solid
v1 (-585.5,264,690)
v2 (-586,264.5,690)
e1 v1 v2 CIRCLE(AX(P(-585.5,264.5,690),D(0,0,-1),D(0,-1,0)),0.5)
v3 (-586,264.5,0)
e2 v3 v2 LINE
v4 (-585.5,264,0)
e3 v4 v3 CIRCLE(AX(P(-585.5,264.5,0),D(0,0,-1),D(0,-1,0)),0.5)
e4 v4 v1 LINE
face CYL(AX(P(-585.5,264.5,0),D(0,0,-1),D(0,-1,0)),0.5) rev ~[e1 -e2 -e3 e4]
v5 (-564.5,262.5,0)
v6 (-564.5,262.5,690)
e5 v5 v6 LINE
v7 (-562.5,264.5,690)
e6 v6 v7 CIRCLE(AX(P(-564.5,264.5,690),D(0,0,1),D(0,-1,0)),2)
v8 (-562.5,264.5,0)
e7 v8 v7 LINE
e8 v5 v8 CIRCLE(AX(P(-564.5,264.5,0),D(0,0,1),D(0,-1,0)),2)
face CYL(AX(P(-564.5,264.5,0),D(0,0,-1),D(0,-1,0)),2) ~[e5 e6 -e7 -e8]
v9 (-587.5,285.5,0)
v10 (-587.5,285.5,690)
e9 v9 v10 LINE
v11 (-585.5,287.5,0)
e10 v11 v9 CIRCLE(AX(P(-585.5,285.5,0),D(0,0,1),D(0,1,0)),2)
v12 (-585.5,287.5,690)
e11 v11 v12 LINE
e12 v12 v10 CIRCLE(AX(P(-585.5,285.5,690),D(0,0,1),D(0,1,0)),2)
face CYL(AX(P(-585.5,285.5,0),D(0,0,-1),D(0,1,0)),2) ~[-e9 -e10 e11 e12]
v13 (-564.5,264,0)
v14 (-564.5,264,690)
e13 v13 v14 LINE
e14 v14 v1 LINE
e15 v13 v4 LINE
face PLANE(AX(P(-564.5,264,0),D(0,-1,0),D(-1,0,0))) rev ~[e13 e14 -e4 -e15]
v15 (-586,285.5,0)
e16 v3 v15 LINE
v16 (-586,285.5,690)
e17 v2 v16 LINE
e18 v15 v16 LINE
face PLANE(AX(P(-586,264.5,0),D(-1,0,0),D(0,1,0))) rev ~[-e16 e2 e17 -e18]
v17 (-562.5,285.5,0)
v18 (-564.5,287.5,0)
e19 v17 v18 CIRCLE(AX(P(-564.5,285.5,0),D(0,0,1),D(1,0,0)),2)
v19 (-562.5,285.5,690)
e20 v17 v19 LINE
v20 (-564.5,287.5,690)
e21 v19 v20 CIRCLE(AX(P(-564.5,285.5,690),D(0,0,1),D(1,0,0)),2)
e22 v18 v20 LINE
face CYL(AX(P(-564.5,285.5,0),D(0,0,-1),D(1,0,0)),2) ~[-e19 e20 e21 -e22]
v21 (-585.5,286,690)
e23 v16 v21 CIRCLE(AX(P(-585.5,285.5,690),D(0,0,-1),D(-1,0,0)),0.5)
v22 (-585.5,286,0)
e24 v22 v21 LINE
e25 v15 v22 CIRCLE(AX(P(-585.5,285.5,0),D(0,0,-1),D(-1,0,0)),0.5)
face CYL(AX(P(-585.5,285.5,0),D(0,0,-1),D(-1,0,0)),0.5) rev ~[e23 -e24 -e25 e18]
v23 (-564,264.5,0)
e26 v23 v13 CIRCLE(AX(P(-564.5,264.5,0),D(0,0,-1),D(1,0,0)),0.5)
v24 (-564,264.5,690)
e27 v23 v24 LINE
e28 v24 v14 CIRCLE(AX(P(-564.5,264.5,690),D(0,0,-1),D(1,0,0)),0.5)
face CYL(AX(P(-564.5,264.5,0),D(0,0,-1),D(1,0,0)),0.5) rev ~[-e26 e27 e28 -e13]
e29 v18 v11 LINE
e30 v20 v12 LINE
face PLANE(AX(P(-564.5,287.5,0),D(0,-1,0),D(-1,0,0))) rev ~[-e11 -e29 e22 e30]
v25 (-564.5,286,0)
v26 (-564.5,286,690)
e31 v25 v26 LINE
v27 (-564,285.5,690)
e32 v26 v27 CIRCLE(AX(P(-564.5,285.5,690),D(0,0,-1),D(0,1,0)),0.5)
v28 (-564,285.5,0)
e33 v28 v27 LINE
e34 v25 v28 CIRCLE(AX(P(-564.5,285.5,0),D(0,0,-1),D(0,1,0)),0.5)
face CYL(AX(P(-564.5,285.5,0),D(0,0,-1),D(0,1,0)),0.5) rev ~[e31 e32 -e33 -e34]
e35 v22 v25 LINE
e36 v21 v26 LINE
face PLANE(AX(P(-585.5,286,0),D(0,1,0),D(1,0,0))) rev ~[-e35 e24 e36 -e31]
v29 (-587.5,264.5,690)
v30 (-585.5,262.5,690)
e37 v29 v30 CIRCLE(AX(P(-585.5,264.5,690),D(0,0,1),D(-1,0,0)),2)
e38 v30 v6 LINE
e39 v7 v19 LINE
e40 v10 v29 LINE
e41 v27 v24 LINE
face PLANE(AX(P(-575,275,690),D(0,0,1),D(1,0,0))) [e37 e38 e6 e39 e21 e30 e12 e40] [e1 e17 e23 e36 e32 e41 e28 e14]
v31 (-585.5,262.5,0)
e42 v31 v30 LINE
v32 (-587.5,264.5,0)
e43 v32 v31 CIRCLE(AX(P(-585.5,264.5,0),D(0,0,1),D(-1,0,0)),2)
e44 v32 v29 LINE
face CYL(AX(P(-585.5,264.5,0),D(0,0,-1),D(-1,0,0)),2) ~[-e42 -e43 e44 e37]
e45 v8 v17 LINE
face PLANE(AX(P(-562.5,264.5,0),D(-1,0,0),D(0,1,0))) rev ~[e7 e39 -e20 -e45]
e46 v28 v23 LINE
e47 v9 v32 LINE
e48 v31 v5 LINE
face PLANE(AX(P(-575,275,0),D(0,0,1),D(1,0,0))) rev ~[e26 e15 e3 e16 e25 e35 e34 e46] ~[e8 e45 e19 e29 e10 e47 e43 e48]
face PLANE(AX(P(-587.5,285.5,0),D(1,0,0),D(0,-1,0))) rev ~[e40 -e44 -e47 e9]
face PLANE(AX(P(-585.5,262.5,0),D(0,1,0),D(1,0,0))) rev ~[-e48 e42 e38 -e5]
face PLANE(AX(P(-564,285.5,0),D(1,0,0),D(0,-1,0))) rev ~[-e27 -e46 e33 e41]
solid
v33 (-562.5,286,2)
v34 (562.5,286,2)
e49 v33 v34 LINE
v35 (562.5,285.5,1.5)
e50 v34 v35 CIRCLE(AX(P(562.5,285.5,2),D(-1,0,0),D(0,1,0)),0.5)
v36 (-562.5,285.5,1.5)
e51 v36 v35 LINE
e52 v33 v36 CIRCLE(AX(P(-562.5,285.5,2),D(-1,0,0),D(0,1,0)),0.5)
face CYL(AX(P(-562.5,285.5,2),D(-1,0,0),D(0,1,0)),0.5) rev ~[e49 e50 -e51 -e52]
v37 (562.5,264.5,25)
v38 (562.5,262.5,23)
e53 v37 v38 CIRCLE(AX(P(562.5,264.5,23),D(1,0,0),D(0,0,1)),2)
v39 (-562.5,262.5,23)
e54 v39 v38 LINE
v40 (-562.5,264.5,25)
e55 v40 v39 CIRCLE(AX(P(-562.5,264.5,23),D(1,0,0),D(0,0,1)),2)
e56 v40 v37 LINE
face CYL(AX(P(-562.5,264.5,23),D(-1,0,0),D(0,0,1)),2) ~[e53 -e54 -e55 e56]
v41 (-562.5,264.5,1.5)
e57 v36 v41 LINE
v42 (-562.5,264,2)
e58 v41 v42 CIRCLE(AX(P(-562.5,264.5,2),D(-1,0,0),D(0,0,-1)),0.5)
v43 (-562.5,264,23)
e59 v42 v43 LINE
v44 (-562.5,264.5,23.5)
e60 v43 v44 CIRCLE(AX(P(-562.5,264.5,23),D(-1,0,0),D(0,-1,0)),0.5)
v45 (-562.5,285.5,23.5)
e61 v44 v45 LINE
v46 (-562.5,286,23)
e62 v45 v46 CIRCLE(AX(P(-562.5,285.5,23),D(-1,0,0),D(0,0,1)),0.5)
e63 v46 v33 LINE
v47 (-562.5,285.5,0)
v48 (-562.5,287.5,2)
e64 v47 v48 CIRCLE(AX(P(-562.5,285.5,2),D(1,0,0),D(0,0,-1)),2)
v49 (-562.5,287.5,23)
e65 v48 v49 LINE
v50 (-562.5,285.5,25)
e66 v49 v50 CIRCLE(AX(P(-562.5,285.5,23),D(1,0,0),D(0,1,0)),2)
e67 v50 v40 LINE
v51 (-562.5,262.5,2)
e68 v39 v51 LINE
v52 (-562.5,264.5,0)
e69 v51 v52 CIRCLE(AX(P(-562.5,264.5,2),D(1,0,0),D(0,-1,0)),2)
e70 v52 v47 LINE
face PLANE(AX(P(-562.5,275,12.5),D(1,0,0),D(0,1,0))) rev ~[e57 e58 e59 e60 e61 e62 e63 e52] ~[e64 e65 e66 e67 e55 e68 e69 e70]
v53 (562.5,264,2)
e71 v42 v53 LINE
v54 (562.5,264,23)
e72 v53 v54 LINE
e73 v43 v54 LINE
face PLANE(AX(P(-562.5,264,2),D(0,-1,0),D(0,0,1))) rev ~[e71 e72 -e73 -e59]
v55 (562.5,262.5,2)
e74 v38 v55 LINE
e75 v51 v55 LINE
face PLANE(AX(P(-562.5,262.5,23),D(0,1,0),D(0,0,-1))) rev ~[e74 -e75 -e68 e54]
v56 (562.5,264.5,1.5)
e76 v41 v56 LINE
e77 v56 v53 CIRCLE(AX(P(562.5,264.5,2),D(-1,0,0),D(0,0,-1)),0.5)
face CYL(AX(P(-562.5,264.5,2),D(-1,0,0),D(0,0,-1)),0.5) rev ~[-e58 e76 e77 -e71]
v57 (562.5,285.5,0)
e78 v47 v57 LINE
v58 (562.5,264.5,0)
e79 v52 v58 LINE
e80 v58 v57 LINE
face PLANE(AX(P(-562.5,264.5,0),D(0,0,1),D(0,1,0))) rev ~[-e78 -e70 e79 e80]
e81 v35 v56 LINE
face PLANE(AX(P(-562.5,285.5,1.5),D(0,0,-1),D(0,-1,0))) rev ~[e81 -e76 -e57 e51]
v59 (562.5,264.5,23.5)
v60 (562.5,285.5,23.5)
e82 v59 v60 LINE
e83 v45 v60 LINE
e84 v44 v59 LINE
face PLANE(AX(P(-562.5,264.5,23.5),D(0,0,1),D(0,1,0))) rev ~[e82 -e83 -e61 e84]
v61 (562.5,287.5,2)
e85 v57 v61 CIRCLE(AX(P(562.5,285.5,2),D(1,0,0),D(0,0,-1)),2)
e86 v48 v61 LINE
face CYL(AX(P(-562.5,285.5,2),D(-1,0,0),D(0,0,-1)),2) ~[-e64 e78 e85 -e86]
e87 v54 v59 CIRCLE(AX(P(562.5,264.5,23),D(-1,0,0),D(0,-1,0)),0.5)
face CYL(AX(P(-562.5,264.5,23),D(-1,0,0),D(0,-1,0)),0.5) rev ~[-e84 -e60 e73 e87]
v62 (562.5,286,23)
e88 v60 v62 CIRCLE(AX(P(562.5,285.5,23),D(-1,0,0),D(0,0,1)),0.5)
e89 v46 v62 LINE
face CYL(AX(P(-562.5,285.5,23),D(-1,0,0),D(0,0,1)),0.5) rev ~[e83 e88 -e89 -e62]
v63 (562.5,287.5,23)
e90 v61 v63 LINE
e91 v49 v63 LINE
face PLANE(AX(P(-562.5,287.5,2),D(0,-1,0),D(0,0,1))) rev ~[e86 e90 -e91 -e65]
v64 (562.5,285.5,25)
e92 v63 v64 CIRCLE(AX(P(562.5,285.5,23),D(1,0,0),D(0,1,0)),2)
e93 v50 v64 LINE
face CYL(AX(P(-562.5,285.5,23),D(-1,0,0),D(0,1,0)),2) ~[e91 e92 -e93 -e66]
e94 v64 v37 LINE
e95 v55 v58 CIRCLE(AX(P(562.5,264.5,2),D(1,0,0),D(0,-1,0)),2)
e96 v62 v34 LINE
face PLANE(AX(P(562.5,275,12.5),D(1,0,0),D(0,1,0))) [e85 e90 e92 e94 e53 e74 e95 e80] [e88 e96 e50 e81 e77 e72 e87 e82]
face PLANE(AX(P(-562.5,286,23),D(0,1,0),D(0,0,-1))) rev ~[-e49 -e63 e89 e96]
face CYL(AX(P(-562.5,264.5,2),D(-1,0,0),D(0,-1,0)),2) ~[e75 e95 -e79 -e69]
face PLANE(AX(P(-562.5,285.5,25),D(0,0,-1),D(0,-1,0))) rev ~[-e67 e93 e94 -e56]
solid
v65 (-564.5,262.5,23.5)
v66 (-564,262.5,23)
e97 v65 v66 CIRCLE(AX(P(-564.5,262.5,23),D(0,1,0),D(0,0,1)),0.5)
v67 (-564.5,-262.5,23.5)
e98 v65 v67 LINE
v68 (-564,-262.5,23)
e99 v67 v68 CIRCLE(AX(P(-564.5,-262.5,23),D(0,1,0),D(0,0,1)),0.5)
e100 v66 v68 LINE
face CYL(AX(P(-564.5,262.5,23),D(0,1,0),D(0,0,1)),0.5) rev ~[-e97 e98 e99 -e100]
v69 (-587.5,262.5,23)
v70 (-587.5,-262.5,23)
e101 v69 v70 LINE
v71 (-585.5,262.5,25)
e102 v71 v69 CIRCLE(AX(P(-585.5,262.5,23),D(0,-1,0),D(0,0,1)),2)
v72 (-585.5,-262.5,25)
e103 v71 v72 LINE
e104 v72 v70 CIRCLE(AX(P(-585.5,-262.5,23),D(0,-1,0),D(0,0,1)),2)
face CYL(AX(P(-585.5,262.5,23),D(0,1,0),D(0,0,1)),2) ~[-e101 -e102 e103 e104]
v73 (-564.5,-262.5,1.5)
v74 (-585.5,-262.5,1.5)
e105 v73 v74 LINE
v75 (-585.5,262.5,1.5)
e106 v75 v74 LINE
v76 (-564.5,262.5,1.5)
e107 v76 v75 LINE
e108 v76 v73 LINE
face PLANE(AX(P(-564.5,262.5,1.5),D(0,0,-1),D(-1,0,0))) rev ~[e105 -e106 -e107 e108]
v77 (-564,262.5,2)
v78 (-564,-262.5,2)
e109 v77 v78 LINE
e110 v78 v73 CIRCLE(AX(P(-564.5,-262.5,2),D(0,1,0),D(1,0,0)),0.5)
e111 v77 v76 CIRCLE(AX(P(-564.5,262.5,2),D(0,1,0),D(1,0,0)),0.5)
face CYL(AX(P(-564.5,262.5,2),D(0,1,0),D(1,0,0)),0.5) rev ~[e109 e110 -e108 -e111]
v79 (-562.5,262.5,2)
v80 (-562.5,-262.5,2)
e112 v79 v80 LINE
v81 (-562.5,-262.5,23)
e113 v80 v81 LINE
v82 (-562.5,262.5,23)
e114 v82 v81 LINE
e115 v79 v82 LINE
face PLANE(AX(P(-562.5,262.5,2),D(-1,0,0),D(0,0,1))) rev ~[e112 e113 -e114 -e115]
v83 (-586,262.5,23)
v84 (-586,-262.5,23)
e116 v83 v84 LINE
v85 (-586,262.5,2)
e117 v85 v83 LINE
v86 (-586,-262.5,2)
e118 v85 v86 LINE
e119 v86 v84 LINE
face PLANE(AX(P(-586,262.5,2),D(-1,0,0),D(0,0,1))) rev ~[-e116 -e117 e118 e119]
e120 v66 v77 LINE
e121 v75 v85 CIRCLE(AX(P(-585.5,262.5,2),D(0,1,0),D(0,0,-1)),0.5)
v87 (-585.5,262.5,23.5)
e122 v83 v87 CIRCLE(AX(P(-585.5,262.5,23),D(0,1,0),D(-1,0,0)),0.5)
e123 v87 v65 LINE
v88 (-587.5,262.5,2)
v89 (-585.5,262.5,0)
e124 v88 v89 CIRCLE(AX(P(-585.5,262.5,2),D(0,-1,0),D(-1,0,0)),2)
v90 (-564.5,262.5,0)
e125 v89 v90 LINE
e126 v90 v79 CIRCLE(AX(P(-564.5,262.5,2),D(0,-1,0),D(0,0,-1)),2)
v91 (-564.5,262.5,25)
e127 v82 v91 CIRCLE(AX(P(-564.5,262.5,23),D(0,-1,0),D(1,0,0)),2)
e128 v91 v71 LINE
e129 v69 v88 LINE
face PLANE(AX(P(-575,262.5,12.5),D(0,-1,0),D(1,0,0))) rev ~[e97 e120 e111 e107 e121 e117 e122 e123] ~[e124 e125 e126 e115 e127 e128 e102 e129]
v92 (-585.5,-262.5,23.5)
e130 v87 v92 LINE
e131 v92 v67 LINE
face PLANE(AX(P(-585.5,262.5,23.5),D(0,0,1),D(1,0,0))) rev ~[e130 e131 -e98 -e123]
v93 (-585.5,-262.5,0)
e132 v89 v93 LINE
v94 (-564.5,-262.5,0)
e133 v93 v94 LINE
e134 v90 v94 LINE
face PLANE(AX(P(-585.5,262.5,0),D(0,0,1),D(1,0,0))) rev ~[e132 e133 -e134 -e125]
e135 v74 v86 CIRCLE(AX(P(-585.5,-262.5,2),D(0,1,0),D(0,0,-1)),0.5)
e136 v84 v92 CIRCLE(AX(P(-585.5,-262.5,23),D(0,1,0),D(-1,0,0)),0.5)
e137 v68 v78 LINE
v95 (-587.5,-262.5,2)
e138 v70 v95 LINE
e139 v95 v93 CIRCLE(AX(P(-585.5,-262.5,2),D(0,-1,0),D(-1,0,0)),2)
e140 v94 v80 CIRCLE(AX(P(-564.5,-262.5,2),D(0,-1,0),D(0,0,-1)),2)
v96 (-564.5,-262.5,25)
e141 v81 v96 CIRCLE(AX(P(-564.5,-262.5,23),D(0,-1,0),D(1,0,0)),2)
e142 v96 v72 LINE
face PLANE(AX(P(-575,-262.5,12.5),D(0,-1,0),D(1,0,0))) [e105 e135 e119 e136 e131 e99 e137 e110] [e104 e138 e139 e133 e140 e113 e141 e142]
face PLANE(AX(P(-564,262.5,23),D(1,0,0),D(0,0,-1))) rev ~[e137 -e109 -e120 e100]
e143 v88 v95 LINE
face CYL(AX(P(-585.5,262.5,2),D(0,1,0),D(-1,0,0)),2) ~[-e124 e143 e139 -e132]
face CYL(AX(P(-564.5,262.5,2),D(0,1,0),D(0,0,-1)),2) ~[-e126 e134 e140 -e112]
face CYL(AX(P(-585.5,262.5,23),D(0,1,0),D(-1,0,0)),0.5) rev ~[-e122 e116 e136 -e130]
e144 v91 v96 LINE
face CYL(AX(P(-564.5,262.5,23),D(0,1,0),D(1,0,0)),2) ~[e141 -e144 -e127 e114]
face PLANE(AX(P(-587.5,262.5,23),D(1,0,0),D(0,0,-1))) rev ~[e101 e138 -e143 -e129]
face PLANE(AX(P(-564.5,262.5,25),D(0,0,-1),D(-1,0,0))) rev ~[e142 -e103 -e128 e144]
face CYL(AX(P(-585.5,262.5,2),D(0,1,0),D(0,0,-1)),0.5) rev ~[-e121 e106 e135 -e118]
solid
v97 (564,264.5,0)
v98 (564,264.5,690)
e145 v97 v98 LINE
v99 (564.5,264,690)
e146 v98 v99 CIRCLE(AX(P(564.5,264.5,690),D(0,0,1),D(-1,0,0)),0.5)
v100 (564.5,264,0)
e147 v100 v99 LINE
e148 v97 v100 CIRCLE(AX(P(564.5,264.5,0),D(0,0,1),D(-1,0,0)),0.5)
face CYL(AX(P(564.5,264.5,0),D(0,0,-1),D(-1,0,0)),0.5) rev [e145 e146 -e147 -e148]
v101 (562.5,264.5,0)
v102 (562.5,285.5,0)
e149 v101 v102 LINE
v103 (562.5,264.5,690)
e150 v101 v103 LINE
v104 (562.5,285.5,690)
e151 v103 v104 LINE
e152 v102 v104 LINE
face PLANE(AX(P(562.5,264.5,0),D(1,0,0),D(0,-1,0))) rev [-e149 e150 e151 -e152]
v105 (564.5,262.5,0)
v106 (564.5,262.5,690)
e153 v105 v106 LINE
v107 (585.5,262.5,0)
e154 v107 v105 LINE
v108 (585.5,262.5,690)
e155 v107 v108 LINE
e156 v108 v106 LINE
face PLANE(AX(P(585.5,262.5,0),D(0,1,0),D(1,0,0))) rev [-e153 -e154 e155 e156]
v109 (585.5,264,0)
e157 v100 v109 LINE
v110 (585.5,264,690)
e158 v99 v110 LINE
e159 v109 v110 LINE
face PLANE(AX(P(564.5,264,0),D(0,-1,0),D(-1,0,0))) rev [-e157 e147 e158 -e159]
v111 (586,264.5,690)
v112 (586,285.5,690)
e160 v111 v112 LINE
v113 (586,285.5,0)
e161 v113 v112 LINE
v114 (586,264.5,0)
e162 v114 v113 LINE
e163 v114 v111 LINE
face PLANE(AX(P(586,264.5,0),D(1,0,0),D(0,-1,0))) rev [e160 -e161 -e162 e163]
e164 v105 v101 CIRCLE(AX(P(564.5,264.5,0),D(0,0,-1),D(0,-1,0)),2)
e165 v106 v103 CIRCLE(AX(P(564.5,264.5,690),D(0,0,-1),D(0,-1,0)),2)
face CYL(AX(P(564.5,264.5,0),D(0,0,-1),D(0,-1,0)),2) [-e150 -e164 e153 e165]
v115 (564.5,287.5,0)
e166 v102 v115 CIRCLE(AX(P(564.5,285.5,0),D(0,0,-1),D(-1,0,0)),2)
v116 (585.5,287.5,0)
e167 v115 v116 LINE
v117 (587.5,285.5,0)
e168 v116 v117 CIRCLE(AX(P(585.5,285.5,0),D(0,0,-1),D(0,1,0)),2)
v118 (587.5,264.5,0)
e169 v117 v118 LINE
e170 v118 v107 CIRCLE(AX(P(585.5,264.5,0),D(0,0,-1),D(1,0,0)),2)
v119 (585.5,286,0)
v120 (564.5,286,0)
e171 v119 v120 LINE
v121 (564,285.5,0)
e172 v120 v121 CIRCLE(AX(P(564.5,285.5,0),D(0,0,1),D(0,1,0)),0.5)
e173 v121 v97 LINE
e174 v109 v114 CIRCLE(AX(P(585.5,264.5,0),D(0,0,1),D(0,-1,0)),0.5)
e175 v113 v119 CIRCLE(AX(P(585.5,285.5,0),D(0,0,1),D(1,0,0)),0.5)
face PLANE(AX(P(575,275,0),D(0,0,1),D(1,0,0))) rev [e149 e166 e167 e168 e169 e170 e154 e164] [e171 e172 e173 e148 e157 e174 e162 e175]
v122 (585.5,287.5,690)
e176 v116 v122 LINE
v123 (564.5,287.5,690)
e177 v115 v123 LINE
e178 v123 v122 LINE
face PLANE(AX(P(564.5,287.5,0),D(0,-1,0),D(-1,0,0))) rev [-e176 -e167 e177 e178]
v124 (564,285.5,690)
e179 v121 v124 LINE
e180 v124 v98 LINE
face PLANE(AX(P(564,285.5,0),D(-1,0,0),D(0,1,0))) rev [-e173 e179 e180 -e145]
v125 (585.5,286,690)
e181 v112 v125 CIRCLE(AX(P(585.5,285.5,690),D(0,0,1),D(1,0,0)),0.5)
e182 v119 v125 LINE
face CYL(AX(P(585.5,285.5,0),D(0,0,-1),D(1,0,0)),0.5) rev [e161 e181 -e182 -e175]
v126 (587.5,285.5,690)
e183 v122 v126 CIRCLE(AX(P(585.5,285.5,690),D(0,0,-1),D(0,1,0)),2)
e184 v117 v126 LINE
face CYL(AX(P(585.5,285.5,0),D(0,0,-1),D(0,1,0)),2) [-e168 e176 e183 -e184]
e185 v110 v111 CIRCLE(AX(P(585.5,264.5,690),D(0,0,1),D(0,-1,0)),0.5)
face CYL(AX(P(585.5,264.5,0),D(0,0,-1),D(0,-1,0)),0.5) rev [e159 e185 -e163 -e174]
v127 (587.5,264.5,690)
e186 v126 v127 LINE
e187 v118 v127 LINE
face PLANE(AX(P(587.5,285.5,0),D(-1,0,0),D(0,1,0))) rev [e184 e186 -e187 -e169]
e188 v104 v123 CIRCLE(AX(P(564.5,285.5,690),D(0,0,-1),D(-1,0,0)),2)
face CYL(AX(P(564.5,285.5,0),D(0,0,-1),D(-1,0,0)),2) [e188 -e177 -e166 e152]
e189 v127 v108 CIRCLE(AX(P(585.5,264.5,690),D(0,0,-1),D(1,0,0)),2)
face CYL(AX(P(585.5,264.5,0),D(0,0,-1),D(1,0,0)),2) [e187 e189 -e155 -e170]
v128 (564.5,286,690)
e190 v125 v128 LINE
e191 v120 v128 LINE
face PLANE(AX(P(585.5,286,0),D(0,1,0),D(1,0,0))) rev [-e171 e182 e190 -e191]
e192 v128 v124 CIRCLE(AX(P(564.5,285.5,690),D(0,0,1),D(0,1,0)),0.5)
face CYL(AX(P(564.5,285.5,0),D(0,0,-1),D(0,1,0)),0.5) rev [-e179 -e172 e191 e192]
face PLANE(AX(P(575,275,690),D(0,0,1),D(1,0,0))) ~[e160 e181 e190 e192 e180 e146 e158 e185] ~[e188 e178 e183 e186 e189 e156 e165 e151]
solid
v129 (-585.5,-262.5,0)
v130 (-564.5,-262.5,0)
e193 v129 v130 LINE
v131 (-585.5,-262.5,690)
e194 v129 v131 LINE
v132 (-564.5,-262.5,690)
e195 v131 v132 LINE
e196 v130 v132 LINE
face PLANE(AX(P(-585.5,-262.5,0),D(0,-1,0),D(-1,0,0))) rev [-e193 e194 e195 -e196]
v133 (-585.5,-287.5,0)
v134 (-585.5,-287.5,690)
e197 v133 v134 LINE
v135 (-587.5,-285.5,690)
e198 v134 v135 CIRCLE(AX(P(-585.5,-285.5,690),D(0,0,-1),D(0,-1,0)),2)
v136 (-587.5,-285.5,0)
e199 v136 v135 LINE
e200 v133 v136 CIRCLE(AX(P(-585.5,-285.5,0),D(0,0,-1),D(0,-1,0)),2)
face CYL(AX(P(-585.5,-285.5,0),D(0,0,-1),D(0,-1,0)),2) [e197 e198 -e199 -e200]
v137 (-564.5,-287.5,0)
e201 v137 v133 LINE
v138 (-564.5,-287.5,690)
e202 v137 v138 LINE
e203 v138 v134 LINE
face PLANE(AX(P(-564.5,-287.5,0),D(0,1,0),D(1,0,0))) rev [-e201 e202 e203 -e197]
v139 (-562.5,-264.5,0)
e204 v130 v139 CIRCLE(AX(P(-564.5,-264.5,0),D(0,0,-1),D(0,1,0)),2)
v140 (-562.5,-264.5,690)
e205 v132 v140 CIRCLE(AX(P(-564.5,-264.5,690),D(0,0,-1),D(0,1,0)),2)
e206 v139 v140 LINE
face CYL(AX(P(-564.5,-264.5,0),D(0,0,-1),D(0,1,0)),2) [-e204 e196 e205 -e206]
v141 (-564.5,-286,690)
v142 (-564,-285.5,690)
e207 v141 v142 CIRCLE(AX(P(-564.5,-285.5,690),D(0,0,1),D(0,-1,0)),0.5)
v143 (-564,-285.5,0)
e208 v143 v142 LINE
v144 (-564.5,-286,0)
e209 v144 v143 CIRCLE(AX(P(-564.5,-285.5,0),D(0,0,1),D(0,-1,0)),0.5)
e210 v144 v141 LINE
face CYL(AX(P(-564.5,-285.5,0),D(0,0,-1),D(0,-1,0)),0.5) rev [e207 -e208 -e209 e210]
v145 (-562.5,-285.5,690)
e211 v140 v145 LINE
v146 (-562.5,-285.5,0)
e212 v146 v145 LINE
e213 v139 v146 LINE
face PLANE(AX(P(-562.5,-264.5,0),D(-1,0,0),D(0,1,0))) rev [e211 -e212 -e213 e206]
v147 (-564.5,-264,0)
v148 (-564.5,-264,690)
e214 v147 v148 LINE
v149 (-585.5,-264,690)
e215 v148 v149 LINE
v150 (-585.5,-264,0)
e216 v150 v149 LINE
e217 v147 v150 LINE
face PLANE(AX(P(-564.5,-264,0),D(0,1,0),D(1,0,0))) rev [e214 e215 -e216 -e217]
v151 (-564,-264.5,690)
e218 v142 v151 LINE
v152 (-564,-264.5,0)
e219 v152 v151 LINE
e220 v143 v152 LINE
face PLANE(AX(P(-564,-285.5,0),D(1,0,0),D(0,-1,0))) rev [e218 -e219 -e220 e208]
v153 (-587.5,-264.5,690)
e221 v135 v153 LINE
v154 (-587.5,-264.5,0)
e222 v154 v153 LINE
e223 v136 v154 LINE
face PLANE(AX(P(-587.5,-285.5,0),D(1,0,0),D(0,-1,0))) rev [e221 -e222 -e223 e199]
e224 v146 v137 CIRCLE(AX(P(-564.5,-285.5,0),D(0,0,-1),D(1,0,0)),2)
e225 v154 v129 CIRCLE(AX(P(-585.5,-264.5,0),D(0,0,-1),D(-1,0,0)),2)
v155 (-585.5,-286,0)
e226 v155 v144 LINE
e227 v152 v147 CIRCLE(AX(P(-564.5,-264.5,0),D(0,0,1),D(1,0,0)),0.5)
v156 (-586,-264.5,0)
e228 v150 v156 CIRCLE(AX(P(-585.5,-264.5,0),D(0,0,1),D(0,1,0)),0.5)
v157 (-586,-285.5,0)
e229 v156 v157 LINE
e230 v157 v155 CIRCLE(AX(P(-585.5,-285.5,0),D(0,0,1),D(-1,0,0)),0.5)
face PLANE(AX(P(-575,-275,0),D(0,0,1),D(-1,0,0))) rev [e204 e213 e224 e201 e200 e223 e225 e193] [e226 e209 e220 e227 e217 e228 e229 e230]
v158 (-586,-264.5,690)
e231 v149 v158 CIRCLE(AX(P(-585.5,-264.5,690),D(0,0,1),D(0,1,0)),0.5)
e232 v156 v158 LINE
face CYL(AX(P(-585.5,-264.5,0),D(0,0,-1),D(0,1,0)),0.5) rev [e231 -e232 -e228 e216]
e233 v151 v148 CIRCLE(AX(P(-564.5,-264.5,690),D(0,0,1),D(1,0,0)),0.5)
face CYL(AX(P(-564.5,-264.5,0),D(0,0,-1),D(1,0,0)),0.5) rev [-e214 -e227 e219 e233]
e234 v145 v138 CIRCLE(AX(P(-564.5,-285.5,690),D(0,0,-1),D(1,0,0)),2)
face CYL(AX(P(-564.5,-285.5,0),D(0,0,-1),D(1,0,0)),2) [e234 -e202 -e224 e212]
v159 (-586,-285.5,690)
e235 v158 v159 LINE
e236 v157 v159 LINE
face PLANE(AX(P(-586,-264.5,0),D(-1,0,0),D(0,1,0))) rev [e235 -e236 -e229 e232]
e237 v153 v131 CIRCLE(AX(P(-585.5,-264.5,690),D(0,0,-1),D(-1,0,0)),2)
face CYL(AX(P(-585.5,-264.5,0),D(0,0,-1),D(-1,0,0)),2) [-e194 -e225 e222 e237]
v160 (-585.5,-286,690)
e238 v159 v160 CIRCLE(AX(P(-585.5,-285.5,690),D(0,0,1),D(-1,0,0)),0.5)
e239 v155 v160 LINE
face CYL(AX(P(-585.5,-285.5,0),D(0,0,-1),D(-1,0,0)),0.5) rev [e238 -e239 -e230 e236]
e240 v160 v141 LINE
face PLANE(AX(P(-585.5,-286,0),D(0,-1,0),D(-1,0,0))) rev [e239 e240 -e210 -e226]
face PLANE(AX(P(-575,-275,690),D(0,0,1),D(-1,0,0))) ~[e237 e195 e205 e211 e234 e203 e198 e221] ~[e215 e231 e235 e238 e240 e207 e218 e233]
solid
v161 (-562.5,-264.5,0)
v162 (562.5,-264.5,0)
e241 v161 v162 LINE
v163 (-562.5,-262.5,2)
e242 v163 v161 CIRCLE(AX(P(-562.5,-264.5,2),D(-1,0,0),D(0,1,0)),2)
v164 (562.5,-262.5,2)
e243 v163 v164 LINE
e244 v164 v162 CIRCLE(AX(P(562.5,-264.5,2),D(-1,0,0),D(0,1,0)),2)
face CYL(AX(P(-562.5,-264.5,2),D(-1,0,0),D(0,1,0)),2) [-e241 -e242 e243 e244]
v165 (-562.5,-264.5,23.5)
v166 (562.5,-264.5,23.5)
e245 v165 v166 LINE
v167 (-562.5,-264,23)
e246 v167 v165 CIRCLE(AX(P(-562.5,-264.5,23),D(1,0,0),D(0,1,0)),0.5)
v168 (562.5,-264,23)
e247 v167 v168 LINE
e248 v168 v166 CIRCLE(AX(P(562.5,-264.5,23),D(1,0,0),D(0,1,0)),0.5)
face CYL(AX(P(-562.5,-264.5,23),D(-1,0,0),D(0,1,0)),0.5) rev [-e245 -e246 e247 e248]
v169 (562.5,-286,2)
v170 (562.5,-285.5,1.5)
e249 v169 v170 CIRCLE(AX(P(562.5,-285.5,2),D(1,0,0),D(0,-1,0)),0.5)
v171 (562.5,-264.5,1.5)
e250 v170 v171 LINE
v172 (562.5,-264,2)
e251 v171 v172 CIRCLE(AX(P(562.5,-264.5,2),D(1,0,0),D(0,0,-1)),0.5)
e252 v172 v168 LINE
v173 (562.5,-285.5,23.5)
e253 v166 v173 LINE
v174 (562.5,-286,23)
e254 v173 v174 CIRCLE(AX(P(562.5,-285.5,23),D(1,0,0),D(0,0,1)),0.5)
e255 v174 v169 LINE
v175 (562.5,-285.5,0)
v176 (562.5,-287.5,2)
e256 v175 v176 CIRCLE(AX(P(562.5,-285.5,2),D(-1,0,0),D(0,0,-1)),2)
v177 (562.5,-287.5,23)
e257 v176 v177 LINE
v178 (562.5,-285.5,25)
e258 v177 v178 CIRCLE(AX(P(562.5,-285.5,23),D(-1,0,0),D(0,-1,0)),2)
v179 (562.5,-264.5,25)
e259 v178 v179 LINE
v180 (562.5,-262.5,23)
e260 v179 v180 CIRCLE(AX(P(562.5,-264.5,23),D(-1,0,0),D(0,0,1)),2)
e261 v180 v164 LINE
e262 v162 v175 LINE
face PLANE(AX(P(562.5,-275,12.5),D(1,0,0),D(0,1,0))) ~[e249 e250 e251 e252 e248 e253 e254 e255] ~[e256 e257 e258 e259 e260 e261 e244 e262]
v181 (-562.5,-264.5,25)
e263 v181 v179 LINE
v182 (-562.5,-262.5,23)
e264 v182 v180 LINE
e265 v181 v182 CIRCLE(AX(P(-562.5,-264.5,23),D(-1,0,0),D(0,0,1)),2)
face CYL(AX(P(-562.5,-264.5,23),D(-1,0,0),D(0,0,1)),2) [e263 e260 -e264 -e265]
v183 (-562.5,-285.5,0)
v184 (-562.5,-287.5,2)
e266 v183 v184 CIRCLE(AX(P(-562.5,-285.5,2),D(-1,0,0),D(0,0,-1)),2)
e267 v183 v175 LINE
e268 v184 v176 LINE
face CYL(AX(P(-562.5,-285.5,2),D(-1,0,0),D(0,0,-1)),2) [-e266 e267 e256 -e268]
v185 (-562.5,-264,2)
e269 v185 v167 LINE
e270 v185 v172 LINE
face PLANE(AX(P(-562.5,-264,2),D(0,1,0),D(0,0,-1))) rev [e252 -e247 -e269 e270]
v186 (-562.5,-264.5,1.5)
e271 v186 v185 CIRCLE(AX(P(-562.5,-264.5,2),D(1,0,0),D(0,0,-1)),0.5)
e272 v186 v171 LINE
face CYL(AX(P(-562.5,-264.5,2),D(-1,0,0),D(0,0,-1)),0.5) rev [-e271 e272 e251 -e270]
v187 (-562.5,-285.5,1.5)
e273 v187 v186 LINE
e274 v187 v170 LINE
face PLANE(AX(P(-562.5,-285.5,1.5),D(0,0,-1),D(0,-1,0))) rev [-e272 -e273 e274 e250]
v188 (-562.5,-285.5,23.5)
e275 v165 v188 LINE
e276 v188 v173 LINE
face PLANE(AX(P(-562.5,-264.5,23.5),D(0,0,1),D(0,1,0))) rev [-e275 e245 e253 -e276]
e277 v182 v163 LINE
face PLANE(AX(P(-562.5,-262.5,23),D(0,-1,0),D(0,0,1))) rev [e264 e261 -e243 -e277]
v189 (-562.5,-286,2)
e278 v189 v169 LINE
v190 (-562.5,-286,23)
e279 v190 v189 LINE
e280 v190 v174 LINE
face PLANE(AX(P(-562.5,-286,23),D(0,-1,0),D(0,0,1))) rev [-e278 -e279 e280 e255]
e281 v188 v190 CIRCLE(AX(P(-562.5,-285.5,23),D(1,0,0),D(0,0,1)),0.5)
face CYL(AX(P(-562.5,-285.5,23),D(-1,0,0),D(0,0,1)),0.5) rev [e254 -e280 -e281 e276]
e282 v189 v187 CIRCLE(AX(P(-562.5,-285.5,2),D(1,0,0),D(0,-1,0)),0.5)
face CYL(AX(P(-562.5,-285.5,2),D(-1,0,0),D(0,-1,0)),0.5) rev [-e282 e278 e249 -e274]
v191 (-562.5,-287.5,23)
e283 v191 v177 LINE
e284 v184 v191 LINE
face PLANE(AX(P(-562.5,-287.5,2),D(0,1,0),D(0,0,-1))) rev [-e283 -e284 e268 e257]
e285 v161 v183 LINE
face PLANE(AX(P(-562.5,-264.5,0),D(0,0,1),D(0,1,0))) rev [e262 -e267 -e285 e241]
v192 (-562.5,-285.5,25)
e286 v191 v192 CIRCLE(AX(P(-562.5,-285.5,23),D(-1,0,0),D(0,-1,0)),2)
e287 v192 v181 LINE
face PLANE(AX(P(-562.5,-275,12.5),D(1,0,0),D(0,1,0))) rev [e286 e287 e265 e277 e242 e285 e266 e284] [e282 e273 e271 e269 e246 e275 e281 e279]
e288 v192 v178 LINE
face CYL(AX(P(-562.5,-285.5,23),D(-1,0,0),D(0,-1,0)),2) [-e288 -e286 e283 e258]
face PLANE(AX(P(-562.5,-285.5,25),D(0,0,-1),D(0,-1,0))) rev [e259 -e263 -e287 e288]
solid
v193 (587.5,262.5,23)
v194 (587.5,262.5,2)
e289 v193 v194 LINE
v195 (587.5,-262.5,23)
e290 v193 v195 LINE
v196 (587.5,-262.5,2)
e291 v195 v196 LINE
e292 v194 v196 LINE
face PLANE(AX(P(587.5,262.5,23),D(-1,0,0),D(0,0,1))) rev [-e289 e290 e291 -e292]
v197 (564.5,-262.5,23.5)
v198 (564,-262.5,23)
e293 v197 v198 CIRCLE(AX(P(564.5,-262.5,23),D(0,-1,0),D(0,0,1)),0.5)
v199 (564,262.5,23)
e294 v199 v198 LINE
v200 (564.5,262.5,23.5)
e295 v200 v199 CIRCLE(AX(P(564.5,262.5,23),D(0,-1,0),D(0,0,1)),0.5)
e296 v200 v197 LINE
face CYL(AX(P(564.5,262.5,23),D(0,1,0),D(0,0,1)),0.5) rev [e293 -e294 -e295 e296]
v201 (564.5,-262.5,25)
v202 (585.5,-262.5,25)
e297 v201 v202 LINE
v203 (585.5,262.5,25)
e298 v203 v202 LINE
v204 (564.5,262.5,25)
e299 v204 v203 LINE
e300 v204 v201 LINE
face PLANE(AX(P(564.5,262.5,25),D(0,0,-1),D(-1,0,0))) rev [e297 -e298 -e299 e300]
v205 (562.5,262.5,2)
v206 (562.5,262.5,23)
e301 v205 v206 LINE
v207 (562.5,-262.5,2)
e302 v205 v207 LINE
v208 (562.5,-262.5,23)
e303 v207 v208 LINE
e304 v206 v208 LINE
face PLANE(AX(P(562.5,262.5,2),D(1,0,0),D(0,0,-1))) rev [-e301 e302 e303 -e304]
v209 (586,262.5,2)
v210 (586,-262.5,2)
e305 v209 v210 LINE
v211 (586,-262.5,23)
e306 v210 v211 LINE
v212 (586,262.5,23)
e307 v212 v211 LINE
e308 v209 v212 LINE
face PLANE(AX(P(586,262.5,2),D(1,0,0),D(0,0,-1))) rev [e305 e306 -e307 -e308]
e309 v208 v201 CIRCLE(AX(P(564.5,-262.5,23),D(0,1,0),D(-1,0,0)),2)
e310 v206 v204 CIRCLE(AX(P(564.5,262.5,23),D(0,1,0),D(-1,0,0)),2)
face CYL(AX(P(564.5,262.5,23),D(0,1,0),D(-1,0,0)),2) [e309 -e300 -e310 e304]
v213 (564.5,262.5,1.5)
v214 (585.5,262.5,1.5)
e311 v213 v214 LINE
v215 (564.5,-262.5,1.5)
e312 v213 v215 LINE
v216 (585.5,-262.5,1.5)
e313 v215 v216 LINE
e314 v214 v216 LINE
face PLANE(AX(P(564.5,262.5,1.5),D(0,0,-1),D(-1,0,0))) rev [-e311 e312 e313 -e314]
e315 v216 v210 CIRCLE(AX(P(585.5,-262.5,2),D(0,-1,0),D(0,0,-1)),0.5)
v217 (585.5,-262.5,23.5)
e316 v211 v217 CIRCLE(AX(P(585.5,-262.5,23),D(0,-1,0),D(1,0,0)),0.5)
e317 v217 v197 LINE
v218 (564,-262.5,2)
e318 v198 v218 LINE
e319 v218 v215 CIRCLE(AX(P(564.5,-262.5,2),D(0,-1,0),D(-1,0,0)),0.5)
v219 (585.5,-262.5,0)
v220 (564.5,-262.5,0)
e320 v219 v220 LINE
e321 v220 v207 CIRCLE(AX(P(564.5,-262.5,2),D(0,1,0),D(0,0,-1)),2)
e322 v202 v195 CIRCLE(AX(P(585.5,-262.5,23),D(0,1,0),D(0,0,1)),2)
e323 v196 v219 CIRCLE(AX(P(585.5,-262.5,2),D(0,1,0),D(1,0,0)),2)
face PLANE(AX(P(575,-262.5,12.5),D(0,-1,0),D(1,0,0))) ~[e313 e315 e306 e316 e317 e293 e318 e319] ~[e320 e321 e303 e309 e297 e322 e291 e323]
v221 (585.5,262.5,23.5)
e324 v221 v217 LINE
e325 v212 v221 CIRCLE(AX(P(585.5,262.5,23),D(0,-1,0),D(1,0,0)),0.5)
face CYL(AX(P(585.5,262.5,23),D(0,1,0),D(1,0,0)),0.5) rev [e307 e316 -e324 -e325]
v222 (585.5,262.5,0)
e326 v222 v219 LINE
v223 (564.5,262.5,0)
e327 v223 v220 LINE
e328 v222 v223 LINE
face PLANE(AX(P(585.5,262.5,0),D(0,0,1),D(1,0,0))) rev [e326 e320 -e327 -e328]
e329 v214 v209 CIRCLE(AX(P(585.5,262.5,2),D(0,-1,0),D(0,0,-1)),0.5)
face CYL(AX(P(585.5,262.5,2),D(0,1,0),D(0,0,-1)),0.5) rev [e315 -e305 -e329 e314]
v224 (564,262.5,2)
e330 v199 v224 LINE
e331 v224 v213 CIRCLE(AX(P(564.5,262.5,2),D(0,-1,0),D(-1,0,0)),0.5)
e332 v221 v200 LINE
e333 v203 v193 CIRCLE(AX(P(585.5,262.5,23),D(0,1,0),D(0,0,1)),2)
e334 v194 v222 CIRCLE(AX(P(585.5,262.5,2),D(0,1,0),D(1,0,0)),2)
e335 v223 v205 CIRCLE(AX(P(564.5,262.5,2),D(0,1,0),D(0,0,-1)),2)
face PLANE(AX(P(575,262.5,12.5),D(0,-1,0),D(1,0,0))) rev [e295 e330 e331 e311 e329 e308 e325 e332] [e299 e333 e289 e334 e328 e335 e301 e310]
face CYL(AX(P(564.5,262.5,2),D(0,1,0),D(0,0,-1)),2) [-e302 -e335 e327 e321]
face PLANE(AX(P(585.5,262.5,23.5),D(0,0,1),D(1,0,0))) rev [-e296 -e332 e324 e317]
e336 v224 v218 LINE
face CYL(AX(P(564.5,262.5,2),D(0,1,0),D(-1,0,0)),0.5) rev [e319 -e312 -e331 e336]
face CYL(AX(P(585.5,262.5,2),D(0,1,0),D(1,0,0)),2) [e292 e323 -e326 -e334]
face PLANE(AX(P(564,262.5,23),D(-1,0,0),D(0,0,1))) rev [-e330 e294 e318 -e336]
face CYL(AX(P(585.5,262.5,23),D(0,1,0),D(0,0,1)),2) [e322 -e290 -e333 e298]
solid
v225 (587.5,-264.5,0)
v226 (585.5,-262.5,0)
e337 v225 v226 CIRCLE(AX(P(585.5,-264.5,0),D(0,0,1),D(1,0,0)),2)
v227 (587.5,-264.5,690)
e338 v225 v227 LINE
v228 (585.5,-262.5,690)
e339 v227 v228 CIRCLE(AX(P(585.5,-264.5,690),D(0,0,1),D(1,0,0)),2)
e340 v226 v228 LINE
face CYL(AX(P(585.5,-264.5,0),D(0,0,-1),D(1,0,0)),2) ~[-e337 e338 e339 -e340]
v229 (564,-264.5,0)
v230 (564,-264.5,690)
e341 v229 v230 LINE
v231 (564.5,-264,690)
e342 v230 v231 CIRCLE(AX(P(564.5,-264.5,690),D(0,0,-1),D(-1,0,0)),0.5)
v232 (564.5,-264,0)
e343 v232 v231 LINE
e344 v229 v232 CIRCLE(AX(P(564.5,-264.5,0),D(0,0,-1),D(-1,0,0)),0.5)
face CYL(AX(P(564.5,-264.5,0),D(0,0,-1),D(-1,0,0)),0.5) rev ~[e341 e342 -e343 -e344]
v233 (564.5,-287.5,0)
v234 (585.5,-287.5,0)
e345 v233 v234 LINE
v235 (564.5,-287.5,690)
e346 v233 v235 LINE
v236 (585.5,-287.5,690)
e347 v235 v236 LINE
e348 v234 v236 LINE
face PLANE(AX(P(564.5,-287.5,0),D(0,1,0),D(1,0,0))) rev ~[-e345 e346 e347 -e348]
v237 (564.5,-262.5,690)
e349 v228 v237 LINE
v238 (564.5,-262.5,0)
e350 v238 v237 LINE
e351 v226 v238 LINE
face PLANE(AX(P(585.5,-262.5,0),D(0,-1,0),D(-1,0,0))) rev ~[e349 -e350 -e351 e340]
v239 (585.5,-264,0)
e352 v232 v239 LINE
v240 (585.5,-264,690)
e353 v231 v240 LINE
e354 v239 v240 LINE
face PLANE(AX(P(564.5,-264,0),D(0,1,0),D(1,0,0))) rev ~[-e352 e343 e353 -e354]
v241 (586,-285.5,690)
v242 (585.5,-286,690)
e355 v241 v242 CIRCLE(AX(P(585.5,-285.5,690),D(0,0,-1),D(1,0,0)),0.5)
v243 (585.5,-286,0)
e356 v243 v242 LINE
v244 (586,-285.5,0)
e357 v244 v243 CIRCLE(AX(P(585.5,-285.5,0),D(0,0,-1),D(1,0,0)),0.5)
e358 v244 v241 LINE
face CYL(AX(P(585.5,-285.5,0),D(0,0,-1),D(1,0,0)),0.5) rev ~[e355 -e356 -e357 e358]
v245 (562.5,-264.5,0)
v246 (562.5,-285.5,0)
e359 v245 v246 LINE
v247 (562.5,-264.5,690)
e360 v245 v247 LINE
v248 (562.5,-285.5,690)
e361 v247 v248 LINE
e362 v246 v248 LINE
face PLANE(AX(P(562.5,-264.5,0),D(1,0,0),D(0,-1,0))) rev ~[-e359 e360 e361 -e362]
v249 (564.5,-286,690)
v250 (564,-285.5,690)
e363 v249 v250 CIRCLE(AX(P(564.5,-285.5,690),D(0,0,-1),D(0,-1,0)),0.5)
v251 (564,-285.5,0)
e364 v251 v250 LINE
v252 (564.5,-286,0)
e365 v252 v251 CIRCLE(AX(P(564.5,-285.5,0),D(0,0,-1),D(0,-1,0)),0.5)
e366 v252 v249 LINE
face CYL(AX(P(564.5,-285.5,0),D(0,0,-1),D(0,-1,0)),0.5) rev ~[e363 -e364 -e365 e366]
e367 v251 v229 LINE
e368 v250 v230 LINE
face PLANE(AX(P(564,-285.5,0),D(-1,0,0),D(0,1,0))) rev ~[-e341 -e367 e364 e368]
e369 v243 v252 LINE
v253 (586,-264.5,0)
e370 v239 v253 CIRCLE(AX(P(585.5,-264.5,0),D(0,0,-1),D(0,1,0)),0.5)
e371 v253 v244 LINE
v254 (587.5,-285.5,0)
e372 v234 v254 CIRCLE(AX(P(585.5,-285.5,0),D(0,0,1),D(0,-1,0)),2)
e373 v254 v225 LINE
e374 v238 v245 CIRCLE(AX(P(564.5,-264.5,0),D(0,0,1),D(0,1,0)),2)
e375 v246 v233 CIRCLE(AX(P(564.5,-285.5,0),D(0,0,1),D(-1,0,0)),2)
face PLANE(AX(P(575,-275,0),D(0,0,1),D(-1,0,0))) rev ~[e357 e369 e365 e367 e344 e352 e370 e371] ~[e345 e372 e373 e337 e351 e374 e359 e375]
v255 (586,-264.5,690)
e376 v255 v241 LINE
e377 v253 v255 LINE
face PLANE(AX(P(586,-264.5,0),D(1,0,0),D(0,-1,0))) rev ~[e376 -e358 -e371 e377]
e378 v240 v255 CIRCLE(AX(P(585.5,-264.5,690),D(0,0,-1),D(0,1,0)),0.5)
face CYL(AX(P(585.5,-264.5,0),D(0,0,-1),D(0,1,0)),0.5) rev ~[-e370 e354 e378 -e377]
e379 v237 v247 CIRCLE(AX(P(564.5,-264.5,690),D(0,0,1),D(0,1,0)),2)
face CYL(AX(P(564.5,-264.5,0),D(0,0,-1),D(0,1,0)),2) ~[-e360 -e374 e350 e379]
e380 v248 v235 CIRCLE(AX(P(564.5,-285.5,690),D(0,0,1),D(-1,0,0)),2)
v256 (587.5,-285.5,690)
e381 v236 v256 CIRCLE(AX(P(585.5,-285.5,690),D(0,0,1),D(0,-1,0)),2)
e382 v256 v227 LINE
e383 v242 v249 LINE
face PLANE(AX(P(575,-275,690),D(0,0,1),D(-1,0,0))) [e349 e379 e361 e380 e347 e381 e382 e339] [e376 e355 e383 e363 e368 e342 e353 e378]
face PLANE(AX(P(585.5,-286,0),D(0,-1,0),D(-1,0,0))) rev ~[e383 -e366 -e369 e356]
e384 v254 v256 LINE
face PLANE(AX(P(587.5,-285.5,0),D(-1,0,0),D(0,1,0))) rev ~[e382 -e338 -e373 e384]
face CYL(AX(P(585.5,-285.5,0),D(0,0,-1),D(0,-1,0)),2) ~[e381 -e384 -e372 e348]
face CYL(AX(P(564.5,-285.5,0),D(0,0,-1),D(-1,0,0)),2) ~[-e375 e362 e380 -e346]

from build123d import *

# Parameters (mm, degrees)
F3_DEPTH = 690
F5_DEPTH = 1125
F7_DEPTH = 525


with BuildPart() as f3:
    # F2 (on Top) → F3 (new body)
    with BuildSketch(Plane.XY):
        with BuildLine():
            Line((-564.5, 287.5), (-585.5, 287.5))
            ThreePointArc((-585.5, 287.5), (-586.9142135624, 286.9142135624), (-587.5, 285.5))
            Line((-587.5, 285.5), (-587.5, 264.5))
            ThreePointArc((-587.5, 264.5), (-586.9142135624, 263.0857864376), (-585.5, 262.5))
            Line((-585.5, 262.5), (-564.5, 262.5))
            ThreePointArc((-564.5, 262.5), (-563.0857864376, 263.0857864376), (-562.5, 264.5))
            Line((-562.5, 264.5), (-562.5, 285.5))
            ThreePointArc((-562.5, 285.5), (-563.0857864376, 286.9142135624), (-564.5, 287.5))
        make_face()
        with BuildLine():
            ThreePointArc((-586, 285.5), (-585.8535533906, 285.8535533906), (-585.5, 286))
            Line((-585.5, 286), (-564.5, 286))
            ThreePointArc((-564.5, 286), (-564.1464466094, 285.8535533906), (-564, 285.5))
            Line((-564, 285.5), (-564, 264.5))
            ThreePointArc((-564, 264.5), (-564.1464466094, 264.1464466094), (-564.5, 264))
            Line((-564.5, 264), (-585.5, 264))
            ThreePointArc((-585.5, 264), (-585.8535533906, 264.1464466094), (-586, 264.5))
            Line((-586, 264.5), (-586, 285.5))
        make_face(mode=Mode.SUBTRACT)
    extrude(amount=F3_DEPTH)


with BuildPart() as f5:
    # F4 (on face) → F5 (new body, through all)
    with BuildSketch(Plane.YZ.offset(-562.5)):
        with BuildLine():
            Line((285.5, 25), (264.5, 25))
            ThreePointArc((264.5, 25), (263.0857864376, 24.4142135624), (262.5, 23))
            Line((262.5, 23), (262.5, 2))
            ThreePointArc((262.5, 2), (263.0857864376, 0.5857864376), (264.5, 0))
            Line((264.5, 0), (285.5, 0))
            ThreePointArc((285.5, 0), (286.9142135624, 0.5857864376), (287.5, 2))
            Line((287.5, 2), (287.5, 23))
            ThreePointArc((287.5, 23), (286.9142135624, 24.4142135624), (285.5, 25))
        make_face()
        with BuildLine():
            ThreePointArc((264, 23), (264.1464466094, 23.3535533906), (264.5, 23.5))
            Line((264.5, 23.5), (285.5, 23.5))
            ThreePointArc((285.5, 23.5), (285.8535533906, 23.3535533906), (286, 23))
            Line((286, 23), (286, 2))
            ThreePointArc((286, 2), (285.8535533906, 1.6464466094), (285.5, 1.5))
            Line((285.5, 1.5), (264.5, 1.5))
            ThreePointArc((264.5, 1.5), (264.1464466094, 1.6464466094), (264, 2))
            Line((264, 2), (264, 23))
        make_face(mode=Mode.SUBTRACT)
    extrude(amount=F5_DEPTH)


with BuildPart() as f7:
    # F6 (on face) → F7 (new body, through all)
    with BuildSketch(Plane.XZ.offset(-262.5)):
        with BuildLine():
            Line((-564.5, 25), (-585.5, 25))
            ThreePointArc((-585.5, 25), (-586.9142135624, 24.4142135624), (-587.5, 23))
            Line((-587.5, 23), (-587.5, 2))
            ThreePointArc((-587.5, 2), (-586.9142135624, 0.5857864376), (-585.5, 0))
            Line((-585.5, 0), (-564.5, 0))
            ThreePointArc((-564.5, 0), (-563.0857864376, 0.5857864376), (-562.5, 2))
            Line((-562.5, 2), (-562.5, 23))
            ThreePointArc((-562.5, 23), (-563.0857864376, 24.4142135624), (-564.5, 25))
        make_face()
        with BuildLine():
            ThreePointArc((-586, 23), (-585.8535533906, 23.3535533906), (-585.5, 23.5))
            Line((-585.5, 23.5), (-564.5, 23.5))
            ThreePointArc((-564.5, 23.5), (-564.1464466094, 23.3535533906), (-564, 23))
            Line((-564, 23), (-564, 2))
            ThreePointArc((-564, 2), (-564.1464466094, 1.6464466094), (-564.5, 1.5))
            Line((-564.5, 1.5), (-585.5, 1.5))
            ThreePointArc((-585.5, 1.5), (-585.8535533906, 1.6464466094), (-586, 2))
            Line((-586, 2), (-586, 23))
        make_face(mode=Mode.SUBTRACT)
    extrude(amount=F7_DEPTH)


with BuildPart() as f8_1:
    # F8: instance of F3
    add(f3.part.mirror(Plane.YZ))


with BuildPart() as f8_2:
    # F8: instance of F7
    add(f7.part.mirror(Plane.YZ))


with BuildPart() as f9_1:
    # F9: instance of F5
    add(f5.part.mirror(Plane.XZ))


with BuildPart() as f9_2:
    # F9: instance of F3
    add(f3.part.mirror(Plane.XZ))


with BuildPart() as f9_3:
    # F9: instance of F8_1
    add(f8_1.part.mirror(Plane.XZ))


solid = Compound([f3.part, f5.part, f7.part, f8_1.part, f8_2.part, f9_1.part, f9_2.part, f9_3.part])
